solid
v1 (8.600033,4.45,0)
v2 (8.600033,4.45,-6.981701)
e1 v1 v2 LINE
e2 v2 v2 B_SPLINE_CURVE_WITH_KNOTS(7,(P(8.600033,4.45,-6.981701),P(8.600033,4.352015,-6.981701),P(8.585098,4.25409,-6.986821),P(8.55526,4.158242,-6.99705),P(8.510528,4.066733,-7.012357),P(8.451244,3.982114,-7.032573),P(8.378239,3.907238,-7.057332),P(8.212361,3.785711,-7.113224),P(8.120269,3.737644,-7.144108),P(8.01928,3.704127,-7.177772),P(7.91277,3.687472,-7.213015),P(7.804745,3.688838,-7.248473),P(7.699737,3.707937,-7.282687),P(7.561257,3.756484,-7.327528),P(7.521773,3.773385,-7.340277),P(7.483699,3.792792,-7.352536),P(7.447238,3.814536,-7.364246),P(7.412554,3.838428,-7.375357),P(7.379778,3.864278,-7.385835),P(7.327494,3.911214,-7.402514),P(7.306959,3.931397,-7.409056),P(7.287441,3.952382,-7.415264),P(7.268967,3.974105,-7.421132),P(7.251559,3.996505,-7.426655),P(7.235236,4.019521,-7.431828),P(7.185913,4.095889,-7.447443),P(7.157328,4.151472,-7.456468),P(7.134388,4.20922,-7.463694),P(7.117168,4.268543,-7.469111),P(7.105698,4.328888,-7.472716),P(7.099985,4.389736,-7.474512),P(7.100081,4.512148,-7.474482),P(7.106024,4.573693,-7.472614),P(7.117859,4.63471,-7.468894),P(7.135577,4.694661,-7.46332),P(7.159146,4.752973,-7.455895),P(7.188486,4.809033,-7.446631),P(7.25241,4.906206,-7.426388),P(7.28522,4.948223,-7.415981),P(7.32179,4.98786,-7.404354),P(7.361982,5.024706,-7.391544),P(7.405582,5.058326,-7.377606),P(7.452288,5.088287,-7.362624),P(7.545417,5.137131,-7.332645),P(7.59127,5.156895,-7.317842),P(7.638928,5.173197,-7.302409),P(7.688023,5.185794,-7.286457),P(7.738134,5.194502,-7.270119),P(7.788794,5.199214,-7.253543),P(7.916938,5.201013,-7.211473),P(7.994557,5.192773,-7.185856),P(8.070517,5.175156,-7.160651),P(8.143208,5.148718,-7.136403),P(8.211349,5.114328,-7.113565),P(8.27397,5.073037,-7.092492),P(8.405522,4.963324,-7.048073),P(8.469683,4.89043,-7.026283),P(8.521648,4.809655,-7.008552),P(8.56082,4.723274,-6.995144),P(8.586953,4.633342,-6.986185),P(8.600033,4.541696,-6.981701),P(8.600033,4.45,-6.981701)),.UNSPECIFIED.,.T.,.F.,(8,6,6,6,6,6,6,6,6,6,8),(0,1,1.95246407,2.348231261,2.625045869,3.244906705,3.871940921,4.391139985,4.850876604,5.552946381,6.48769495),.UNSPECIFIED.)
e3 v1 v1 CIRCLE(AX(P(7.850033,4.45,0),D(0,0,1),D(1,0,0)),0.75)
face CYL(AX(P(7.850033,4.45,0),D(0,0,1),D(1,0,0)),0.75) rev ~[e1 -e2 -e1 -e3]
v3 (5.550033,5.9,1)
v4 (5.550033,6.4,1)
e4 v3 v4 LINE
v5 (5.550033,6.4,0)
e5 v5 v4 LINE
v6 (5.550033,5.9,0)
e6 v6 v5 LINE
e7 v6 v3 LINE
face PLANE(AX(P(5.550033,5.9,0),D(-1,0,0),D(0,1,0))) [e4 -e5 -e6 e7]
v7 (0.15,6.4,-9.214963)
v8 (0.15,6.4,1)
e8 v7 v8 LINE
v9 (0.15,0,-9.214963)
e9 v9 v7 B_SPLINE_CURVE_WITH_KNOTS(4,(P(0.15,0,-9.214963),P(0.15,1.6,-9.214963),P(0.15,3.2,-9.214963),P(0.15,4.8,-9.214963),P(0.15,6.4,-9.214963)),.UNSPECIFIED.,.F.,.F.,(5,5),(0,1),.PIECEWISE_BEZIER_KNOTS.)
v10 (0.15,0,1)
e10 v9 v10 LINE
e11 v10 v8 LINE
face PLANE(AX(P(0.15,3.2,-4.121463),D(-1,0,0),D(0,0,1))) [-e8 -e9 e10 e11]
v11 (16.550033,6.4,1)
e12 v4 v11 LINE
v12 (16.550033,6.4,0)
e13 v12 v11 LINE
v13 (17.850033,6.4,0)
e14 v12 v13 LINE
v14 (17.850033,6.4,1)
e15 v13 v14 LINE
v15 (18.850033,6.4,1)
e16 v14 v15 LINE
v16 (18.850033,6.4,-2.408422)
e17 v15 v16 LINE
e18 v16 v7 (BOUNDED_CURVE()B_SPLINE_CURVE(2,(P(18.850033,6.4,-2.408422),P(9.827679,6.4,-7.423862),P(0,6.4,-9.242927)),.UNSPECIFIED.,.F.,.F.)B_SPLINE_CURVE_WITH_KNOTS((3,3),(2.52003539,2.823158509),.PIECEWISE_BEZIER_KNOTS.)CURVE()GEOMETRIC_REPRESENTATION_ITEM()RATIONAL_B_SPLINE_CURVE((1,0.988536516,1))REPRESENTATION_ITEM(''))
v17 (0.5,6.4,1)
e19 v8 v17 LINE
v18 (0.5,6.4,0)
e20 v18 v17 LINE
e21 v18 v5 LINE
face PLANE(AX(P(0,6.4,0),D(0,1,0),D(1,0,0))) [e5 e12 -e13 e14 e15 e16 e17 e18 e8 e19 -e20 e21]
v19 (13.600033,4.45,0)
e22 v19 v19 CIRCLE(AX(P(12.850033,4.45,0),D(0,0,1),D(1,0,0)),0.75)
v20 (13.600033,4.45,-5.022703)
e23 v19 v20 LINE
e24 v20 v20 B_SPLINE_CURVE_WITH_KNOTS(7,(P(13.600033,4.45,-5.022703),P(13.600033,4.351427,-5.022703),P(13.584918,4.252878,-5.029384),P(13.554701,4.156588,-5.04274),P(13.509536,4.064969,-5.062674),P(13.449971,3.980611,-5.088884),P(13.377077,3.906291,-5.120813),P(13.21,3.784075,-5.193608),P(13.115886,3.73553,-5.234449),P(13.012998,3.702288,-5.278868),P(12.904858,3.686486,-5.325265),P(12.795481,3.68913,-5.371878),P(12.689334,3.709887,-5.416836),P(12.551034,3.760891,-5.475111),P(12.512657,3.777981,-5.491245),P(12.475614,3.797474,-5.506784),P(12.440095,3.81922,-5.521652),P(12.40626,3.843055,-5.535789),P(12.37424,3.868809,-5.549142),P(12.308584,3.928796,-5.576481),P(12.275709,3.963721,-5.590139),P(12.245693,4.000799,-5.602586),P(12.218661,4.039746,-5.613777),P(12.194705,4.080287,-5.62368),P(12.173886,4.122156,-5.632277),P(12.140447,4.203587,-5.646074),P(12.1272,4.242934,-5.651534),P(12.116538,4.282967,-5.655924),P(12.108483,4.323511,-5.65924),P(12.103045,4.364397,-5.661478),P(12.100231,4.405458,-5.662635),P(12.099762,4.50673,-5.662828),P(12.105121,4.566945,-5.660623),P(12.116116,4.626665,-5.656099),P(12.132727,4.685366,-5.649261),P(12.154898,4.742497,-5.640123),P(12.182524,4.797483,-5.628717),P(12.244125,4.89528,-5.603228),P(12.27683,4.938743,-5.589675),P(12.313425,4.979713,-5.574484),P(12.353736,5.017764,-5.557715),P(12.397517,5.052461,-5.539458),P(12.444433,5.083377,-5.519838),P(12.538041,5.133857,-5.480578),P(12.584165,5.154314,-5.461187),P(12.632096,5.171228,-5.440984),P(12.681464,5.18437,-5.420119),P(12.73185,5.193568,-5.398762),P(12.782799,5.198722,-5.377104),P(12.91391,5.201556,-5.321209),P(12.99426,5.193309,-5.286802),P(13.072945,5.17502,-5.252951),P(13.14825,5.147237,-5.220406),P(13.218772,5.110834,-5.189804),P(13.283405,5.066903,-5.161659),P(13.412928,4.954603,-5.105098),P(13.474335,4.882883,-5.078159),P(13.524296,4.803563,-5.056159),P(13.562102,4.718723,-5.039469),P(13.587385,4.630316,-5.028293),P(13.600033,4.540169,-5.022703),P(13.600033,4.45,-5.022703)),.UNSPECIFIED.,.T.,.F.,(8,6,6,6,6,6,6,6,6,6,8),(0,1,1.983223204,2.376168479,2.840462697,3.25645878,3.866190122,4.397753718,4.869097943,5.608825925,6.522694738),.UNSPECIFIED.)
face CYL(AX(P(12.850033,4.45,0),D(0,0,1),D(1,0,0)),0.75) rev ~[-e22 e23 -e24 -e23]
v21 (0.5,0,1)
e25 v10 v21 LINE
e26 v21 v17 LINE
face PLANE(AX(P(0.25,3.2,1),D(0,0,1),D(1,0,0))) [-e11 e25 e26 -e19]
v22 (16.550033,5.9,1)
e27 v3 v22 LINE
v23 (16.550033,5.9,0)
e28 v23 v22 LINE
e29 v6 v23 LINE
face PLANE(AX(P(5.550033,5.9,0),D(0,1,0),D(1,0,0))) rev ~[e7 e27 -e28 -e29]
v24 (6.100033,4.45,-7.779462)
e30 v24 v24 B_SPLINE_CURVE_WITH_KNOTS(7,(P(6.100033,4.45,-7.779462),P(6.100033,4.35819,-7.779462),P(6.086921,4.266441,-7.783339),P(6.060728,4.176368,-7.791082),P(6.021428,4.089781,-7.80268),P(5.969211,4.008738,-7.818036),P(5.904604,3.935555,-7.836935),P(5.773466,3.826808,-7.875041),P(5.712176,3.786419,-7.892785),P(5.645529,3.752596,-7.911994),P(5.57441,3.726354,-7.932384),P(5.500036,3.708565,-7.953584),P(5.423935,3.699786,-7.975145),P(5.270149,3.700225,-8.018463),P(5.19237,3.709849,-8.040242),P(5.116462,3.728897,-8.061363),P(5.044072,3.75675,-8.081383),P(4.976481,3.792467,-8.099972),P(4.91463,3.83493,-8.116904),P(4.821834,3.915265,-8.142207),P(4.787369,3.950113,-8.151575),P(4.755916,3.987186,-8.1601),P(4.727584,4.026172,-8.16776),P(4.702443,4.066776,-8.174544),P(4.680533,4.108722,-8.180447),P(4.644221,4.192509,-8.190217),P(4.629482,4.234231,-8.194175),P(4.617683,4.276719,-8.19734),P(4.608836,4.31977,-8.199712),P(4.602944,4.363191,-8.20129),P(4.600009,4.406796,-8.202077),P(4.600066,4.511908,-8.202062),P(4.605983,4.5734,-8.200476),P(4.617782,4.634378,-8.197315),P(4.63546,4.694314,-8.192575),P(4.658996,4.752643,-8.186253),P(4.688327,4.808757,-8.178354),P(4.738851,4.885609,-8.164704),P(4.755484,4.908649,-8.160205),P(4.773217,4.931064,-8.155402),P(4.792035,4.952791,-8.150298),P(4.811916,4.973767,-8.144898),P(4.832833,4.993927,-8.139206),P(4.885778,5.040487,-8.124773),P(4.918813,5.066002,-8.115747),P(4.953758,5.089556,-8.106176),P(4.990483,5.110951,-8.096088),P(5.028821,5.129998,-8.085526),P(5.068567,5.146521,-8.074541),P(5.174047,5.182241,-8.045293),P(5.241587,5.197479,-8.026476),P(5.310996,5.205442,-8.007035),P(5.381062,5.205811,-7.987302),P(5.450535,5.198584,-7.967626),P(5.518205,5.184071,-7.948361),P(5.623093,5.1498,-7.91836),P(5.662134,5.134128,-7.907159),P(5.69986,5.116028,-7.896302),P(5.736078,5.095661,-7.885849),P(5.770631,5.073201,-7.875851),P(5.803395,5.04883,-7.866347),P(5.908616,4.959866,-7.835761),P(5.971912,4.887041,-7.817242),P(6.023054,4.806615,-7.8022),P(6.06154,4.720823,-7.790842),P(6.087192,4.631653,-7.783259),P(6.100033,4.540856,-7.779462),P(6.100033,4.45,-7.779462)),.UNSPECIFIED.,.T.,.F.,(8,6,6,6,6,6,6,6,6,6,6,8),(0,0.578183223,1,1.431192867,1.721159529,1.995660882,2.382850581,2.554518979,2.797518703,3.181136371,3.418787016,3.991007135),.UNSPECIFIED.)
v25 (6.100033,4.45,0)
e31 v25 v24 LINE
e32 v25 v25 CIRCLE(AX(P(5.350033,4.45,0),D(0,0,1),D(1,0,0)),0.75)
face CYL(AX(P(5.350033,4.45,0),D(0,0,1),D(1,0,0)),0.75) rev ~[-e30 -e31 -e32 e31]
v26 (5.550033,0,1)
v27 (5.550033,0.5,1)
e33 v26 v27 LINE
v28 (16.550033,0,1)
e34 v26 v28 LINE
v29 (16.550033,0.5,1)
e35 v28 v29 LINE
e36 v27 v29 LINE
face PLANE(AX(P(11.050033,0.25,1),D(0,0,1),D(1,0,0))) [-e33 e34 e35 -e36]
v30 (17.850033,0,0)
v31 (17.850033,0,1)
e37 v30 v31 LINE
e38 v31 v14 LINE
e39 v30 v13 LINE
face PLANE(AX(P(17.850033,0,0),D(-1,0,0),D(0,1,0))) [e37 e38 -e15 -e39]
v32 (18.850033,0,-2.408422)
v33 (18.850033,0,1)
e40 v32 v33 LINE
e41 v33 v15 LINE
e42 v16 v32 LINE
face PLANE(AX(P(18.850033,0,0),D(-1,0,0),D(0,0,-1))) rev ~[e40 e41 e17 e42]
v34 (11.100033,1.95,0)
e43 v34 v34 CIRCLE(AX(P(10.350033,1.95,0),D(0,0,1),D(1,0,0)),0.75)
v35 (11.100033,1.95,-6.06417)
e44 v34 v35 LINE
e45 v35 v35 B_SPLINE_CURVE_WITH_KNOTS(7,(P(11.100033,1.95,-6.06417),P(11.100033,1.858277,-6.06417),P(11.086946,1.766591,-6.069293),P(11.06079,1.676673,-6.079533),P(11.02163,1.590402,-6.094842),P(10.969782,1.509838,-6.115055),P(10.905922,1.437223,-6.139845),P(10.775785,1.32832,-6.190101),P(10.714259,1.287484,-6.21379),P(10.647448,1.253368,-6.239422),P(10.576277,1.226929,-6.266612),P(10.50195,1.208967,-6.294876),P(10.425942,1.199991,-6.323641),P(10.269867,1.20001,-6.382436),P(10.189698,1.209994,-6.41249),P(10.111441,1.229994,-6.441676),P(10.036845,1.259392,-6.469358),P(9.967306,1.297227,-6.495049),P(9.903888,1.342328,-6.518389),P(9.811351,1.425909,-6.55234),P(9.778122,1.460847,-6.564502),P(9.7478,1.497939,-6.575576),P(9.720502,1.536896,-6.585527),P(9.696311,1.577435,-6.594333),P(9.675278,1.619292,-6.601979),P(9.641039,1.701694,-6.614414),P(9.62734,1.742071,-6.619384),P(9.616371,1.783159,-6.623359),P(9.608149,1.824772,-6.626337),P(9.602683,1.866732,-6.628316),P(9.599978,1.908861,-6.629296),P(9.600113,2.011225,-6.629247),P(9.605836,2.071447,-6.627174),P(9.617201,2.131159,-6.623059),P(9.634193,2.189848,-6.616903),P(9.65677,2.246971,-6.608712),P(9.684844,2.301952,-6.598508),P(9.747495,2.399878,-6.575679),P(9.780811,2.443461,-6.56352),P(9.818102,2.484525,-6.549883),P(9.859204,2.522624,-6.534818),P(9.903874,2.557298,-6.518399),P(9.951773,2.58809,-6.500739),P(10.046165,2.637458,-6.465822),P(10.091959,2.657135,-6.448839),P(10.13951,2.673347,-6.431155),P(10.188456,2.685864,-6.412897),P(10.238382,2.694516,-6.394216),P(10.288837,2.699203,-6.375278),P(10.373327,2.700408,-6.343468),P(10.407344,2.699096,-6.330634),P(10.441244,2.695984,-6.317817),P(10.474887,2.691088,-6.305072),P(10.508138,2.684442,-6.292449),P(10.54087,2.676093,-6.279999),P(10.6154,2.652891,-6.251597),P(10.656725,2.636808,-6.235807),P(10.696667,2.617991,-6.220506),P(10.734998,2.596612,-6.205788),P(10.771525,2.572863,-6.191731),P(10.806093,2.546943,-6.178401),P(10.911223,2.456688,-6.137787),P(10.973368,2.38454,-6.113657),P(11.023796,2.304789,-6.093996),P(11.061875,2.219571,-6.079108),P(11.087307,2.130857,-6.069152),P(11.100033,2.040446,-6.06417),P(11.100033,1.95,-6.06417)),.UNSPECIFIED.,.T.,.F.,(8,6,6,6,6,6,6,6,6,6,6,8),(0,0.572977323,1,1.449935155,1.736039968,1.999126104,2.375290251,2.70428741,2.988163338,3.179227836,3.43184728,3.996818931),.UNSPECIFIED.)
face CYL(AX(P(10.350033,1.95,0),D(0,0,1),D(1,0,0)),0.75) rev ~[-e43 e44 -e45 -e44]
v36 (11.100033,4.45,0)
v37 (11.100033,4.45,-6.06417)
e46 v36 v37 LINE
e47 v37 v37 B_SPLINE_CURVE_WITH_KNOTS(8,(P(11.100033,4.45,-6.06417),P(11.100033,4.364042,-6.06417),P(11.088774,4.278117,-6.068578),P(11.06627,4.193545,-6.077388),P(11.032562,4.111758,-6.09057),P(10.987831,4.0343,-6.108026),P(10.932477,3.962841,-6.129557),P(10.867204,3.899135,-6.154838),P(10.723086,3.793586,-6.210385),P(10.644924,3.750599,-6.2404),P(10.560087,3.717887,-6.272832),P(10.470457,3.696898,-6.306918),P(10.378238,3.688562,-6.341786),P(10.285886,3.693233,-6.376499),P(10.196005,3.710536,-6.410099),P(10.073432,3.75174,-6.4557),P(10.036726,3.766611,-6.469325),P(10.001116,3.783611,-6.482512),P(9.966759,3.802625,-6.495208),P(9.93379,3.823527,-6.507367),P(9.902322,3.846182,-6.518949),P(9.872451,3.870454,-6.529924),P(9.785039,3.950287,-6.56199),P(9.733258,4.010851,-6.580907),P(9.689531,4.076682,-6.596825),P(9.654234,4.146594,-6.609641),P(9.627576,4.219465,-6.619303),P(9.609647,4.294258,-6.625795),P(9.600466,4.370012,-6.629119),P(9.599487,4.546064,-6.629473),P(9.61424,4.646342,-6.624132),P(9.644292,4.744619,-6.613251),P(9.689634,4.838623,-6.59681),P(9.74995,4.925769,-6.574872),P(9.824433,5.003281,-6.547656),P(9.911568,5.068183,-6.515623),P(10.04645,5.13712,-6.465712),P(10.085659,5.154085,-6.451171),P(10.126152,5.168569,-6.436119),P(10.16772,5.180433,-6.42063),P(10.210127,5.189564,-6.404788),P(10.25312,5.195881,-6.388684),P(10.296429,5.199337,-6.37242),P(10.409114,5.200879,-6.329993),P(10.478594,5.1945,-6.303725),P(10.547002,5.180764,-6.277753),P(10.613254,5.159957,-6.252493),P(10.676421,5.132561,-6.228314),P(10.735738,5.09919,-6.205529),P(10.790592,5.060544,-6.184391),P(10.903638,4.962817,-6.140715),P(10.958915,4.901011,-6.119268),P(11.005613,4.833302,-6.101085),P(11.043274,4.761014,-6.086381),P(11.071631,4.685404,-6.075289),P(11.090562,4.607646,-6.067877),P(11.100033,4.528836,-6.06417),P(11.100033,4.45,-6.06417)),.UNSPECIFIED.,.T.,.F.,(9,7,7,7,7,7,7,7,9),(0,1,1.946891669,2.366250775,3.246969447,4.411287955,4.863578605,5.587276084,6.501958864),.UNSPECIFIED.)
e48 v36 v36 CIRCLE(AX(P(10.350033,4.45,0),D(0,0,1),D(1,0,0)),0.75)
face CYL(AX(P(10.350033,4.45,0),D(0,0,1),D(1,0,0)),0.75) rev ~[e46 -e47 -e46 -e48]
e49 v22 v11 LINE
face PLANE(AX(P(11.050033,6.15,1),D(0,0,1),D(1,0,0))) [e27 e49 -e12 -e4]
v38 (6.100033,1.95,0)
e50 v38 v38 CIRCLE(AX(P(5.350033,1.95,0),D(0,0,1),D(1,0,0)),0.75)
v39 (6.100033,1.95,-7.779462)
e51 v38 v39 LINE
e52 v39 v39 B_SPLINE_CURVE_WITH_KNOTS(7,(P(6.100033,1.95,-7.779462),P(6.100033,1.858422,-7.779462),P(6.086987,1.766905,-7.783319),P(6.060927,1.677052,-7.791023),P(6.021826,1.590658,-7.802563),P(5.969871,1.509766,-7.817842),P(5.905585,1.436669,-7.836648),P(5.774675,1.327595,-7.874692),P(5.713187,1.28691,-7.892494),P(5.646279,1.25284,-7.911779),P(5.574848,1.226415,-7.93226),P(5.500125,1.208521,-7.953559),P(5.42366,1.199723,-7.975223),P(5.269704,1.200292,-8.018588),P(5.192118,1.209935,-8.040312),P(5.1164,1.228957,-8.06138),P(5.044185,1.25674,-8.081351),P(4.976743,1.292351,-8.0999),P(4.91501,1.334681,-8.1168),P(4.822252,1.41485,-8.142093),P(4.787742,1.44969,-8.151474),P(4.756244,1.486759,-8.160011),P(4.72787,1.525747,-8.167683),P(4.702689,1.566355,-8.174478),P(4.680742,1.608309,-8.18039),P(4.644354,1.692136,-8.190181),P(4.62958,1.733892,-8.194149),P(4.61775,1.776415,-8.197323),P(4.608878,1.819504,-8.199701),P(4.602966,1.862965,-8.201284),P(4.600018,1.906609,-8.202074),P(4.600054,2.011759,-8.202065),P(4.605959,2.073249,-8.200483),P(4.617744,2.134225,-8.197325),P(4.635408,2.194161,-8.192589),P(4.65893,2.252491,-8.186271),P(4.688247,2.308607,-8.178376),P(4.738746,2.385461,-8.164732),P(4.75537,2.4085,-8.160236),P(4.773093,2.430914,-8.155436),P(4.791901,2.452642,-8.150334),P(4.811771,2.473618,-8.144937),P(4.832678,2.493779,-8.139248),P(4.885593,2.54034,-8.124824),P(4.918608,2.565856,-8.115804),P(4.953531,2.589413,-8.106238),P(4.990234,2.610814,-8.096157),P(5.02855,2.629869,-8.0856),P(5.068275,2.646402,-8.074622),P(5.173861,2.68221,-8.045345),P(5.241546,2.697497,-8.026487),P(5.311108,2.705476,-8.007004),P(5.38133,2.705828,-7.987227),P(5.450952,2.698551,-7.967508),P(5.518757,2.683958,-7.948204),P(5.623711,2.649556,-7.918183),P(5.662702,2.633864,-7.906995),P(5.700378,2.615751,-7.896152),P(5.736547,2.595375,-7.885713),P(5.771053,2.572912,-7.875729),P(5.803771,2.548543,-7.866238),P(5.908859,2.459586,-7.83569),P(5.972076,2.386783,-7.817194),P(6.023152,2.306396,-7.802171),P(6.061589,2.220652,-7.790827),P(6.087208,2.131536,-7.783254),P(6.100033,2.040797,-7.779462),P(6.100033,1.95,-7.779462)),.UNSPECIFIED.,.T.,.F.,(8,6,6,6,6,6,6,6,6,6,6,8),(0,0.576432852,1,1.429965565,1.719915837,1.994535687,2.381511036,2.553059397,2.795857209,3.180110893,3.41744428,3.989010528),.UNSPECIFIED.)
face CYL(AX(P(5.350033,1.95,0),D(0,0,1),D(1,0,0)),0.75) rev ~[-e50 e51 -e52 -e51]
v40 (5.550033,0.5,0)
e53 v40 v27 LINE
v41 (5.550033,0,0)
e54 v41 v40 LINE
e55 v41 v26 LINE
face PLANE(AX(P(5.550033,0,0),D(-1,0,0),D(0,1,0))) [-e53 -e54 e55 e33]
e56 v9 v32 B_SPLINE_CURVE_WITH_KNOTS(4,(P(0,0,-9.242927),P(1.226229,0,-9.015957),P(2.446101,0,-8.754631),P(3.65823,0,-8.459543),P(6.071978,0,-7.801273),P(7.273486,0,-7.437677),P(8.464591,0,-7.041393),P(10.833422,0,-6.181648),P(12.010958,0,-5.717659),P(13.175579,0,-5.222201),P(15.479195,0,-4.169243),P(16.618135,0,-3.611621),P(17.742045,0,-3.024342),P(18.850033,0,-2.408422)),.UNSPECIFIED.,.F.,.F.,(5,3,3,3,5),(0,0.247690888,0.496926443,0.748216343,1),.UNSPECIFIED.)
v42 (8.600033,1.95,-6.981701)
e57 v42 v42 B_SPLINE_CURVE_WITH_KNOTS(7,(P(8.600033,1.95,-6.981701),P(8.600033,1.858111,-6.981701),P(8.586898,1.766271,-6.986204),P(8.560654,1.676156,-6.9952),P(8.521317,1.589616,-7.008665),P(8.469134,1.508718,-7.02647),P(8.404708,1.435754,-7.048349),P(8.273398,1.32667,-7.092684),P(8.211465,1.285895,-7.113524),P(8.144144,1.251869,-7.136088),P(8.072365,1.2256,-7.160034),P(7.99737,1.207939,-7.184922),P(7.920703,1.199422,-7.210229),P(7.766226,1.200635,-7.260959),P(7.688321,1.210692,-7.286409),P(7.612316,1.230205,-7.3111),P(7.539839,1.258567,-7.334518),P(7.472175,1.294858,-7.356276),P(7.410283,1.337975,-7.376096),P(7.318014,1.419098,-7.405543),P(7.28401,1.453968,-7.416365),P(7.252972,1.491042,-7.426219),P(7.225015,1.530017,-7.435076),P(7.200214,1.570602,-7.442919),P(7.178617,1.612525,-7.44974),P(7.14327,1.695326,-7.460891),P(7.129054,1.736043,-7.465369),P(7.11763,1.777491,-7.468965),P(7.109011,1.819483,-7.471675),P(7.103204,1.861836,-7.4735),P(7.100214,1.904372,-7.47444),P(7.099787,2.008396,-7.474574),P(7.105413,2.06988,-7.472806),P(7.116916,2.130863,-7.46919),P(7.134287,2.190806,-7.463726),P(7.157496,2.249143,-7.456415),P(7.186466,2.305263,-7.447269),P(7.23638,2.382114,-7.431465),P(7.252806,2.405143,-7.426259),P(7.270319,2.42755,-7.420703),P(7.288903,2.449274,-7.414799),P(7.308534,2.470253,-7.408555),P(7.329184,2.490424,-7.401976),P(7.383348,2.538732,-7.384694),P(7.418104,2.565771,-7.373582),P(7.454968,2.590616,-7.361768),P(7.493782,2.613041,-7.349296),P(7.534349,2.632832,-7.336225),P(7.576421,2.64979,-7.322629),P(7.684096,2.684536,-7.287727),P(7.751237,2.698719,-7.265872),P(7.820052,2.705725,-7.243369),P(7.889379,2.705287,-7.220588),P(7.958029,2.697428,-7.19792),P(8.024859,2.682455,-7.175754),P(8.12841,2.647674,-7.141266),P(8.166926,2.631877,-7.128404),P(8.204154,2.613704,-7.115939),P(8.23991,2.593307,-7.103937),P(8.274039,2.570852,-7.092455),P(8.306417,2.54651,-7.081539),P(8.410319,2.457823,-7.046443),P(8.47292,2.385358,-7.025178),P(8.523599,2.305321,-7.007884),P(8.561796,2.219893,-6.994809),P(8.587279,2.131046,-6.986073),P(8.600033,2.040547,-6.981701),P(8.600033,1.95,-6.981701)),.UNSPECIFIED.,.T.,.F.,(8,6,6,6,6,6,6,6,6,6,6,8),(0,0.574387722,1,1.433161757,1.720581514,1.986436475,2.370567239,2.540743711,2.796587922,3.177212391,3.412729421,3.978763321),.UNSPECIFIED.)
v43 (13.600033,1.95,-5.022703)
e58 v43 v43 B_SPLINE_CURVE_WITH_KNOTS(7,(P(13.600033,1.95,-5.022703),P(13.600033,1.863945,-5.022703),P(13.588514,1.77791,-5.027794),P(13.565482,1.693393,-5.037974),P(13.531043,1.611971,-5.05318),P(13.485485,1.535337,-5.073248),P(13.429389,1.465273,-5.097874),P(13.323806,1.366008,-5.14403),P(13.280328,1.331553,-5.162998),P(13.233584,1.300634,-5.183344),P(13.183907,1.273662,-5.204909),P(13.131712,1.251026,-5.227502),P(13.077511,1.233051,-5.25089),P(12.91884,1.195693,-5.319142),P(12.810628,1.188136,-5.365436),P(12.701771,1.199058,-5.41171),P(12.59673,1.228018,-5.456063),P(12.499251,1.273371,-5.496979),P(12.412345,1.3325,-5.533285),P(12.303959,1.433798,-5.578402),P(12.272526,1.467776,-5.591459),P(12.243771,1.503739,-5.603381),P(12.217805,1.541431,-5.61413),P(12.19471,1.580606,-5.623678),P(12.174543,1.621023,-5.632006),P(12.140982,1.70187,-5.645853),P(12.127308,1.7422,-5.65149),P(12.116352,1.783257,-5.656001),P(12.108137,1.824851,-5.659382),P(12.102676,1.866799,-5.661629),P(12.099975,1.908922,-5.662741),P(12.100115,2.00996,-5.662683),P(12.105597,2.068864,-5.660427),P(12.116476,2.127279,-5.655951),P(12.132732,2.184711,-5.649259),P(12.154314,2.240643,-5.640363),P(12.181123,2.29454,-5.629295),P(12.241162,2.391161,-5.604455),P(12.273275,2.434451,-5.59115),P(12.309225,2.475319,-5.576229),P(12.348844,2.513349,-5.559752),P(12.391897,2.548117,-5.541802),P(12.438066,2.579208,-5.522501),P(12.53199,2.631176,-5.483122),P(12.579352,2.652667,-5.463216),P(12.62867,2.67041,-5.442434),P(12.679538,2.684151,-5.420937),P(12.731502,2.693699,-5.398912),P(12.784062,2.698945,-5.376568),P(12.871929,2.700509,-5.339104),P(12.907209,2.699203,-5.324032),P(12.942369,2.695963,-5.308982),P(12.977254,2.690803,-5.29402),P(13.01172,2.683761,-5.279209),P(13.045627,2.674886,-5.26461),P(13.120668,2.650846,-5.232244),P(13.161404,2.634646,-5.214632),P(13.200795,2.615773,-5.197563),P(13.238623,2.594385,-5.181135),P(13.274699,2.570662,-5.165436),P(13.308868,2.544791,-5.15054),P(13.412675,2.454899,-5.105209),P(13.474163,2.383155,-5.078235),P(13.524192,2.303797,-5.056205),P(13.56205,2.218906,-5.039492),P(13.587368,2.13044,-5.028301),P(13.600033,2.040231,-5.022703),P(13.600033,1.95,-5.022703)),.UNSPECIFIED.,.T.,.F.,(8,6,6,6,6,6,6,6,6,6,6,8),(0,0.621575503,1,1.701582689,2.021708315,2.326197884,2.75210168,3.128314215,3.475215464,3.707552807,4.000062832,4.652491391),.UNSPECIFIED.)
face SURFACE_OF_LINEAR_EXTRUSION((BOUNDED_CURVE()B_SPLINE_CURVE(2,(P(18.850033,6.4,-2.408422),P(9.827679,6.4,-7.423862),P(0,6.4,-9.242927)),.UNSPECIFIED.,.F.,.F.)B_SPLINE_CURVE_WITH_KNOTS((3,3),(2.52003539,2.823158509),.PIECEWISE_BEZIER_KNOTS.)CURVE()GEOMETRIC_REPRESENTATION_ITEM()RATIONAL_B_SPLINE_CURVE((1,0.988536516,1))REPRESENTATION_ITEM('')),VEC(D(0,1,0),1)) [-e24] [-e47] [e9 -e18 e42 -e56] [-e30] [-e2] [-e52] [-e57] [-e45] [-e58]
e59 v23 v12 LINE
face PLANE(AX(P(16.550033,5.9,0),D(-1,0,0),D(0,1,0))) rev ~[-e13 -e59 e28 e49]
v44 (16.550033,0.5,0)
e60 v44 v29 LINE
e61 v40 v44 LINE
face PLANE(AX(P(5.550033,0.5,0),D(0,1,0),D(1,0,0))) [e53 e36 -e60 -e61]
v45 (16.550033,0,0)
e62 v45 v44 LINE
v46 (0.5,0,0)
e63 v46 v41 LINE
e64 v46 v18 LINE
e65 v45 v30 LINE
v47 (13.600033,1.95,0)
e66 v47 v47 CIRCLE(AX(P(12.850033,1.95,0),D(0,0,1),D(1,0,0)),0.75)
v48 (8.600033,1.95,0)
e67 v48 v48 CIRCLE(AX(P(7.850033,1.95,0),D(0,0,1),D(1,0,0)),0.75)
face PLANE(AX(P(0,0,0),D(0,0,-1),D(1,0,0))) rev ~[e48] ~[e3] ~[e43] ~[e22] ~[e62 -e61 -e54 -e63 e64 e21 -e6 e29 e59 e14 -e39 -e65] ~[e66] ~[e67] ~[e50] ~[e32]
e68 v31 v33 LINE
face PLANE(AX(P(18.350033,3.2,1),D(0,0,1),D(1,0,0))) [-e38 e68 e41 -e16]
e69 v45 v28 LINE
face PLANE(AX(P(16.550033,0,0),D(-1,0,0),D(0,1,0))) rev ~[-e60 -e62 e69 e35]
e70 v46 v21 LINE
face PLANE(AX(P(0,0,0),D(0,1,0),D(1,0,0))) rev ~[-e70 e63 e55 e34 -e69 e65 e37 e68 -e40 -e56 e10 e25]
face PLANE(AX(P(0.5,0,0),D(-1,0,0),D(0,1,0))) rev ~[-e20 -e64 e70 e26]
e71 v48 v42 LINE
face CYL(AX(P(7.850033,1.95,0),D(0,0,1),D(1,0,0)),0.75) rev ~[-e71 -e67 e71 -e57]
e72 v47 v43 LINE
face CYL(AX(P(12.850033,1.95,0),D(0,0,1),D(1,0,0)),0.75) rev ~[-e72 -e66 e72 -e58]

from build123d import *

# Parameters (mm, degrees)
BOSS_EXTRUDE1_DEPTH = 6.4
CUT_EXTRUDE1_REACH  = 17
SKETCH2_R           = 0.75
CUT_EXTRUDE2_REACH  = 8.4
SKETCH9_W           = 0.5
SKETCH9_H           = 6.4
SKETCH9_W_2         = 1
SKETCH9_W_3         = 11
SKETCH9_H_2         = 0.5
BOSS_EXTRUDE2_DEPTH = 1
SKETCH10_W          = 10.242926678
SKETCH10_H          = 6.4
CUT_EXTRUDE7_DEPTH  = 0.15


with BuildPart() as part:
    # Sketch1 → Boss-Extrude1 (new body)
    with BuildSketch(Plane(origin=(0, 0, 0), x_dir=(1, 0, 0), z_dir=(0, 1, 0))):
        Polygon((0, 15), (0, 0), (18.850032676, 0), (18.850032676, 10), align=None)
    extrude(amount=BOSS_EXTRUDE1_DEPTH)

    # Cut-Extrude1: up to this plane
    cut_extrude1_end = Plane(origin=(18.850032676, 6.4, -10), z_dir=(-0.256385401, 0, 0.966574636))
    # Sketch2 → Cut-Extrude1 (cut, up to the surface)
    with BuildSketch(Plane.XY, mode=Mode.PRIVATE) as cut_extrude1_sk1:
        with Locations((12.850032676, 4.45)):
            Circle(SKETCH2_R)
    cut_extrude1_tool1 = split(extrude(cut_extrude1_sk1.sketch, amount=-CUT_EXTRUDE1_REACH, mode=Mode.PRIVATE), bisect_by=cut_extrude1_end, keep=Keep.BOTH, mode=Mode.PRIVATE)
    add(cut_extrude1_tool1.solids().sort_by_distance((12.850033, 4.45, 0))[0], mode=Mode.SUBTRACT)
    # Sketch2 → Cut-Extrude1 (cut, up to the surface)
    with BuildSketch(Plane.XY, mode=Mode.PRIVATE) as cut_extrude1_sk2:
        with Locations((12.850032676, 1.95)):
            Circle(SKETCH2_R)
    cut_extrude1_tool2 = split(extrude(cut_extrude1_sk2.sketch, amount=-CUT_EXTRUDE1_REACH, mode=Mode.PRIVATE), bisect_by=cut_extrude1_end, keep=Keep.BOTH, mode=Mode.PRIVATE)
    add(cut_extrude1_tool2.solids().sort_by_distance((12.850033, 1.95, 0))[0], mode=Mode.SUBTRACT)
    # Sketch2 → Cut-Extrude1 (cut, up to the surface)
    with BuildSketch(Plane.XY, mode=Mode.PRIVATE) as cut_extrude1_sk3:
        with Locations((5.350032676, 1.95)):
            Circle(SKETCH2_R)
    cut_extrude1_tool3 = split(extrude(cut_extrude1_sk3.sketch, amount=-CUT_EXTRUDE1_REACH, mode=Mode.PRIVATE), bisect_by=cut_extrude1_end, keep=Keep.BOTH, mode=Mode.PRIVATE)
    add(cut_extrude1_tool3.solids().sort_by_distance((5.350033, 1.95, 0))[0], mode=Mode.SUBTRACT)
    # Sketch2 → Cut-Extrude1 (cut, up to the surface)
    with BuildSketch(Plane.XY, mode=Mode.PRIVATE) as cut_extrude1_sk4:
        with Locations((5.350032676, 4.45)):
            Circle(SKETCH2_R)
    cut_extrude1_tool4 = split(extrude(cut_extrude1_sk4.sketch, amount=-CUT_EXTRUDE1_REACH, mode=Mode.PRIVATE), bisect_by=cut_extrude1_end, keep=Keep.BOTH, mode=Mode.PRIVATE)
    add(cut_extrude1_tool4.solids().sort_by_distance((5.350033, 4.45, 0))[0], mode=Mode.SUBTRACT)
    # Sketch2 → Cut-Extrude1 (cut, up to the surface)
    with BuildSketch(Plane.XY, mode=Mode.PRIVATE) as cut_extrude1_sk5:
        with Locations((7.850032676, 4.45)):
            Circle(SKETCH2_R)
    cut_extrude1_tool5 = split(extrude(cut_extrude1_sk5.sketch, amount=-CUT_EXTRUDE1_REACH, mode=Mode.PRIVATE), bisect_by=cut_extrude1_end, keep=Keep.BOTH, mode=Mode.PRIVATE)
    add(cut_extrude1_tool5.solids().sort_by_distance((7.850033, 4.45, 0))[0], mode=Mode.SUBTRACT)
    # Sketch2 → Cut-Extrude1 (cut, up to the surface)
    with BuildSketch(Plane.XY, mode=Mode.PRIVATE) as cut_extrude1_sk6:
        with Locations((10.350032676, 4.45)):
            Circle(SKETCH2_R)
    cut_extrude1_tool6 = split(extrude(cut_extrude1_sk6.sketch, amount=-CUT_EXTRUDE1_REACH, mode=Mode.PRIVATE), bisect_by=cut_extrude1_end, keep=Keep.BOTH, mode=Mode.PRIVATE)
    add(cut_extrude1_tool6.solids().sort_by_distance((10.350033, 4.45, 0))[0], mode=Mode.SUBTRACT)
    # Sketch2 → Cut-Extrude1 (cut, up to the surface)
    with BuildSketch(Plane.XY, mode=Mode.PRIVATE) as cut_extrude1_sk7:
        with Locations((7.850032676, 1.95)):
            Circle(SKETCH2_R)
    cut_extrude1_tool7 = split(extrude(cut_extrude1_sk7.sketch, amount=-CUT_EXTRUDE1_REACH, mode=Mode.PRIVATE), bisect_by=cut_extrude1_end, keep=Keep.BOTH, mode=Mode.PRIVATE)
    add(cut_extrude1_tool7.solids().sort_by_distance((7.850033, 1.95, 0))[0], mode=Mode.SUBTRACT)
    # Sketch2 → Cut-Extrude1 (cut, up to the surface)
    with BuildSketch(Plane.XY, mode=Mode.PRIVATE) as cut_extrude1_sk8:
        with Locations((10.350032676, 1.95)):
            Circle(SKETCH2_R)
    cut_extrude1_tool8 = split(extrude(cut_extrude1_sk8.sketch, amount=-CUT_EXTRUDE1_REACH, mode=Mode.PRIVATE), bisect_by=cut_extrude1_end, keep=Keep.BOTH, mode=Mode.PRIVATE)
    add(cut_extrude1_tool8.solids().sort_by_distance((10.350033, 1.95, 0))[0], mode=Mode.SUBTRACT)

    # Sketch3 → Cut-Extrude2 (cut, up to next)
    with BuildSketch(Plane(origin=(0, 6.4, 0), x_dir=(1, 0, 0), z_dir=(0, 1, 0)), mode=Mode.PRIVATE) as cut_extrude2_sk1:
        with BuildLine():
            Line((0, 15), (0, 9.242926678))
            add(Edge.make_bspline(
                [(18.850032676, 2.408422132), (9.827679117, 7.423862257), (0, 9.242926678)],
                knots=[2.52003539, 2.52003539, 2.52003539, 2.823158509, 2.823158509, 2.823158509], degree=2, weights=[1, 0.988536516, 1]))
            Line((18.850032676, 2.408422132), (18.850032676, 10))
            Line((18.850032676, 10), (0, 15))
        make_face()
    cut_extrude2_tool1 = extrude(cut_extrude2_sk1.sketch, amount=-CUT_EXTRUDE2_REACH, mode=Mode.PRIVATE) & part.part
    add(cut_extrude2_tool1.solids().sort_by_distance((9.890162, 6.4, -9.301074))[0], mode=Mode.SUBTRACT)

    # Sketch9 → Boss-Extrude2 (add)
    with BuildSketch(Plane.XY):
        with Locations((0.25, 3.2)):
            Rectangle(SKETCH9_W, SKETCH9_H)
        with Locations((18.350032676, 3.2)):
            Rectangle(SKETCH9_W_2, SKETCH9_H)
        with Locations((11.050032676, 6.15)):
            Rectangle(SKETCH9_W_3, SKETCH9_H_2)
        with Locations((11.050032676, 0.25)):
            Rectangle(SKETCH9_W_3, SKETCH9_H_2)
    extrude(amount=BOSS_EXTRUDE2_DEPTH)

    # Sketch10 → Cut-Extrude7 (cut)
    with BuildSketch(Plane.ZY):
        with Locations((-4.121463339, 3.2)):
            Rectangle(SKETCH10_W, SKETCH10_H)
    extrude(amount=-CUT_EXTRUDE7_DEPTH, mode=Mode.SUBTRACT)


solid = part.part
